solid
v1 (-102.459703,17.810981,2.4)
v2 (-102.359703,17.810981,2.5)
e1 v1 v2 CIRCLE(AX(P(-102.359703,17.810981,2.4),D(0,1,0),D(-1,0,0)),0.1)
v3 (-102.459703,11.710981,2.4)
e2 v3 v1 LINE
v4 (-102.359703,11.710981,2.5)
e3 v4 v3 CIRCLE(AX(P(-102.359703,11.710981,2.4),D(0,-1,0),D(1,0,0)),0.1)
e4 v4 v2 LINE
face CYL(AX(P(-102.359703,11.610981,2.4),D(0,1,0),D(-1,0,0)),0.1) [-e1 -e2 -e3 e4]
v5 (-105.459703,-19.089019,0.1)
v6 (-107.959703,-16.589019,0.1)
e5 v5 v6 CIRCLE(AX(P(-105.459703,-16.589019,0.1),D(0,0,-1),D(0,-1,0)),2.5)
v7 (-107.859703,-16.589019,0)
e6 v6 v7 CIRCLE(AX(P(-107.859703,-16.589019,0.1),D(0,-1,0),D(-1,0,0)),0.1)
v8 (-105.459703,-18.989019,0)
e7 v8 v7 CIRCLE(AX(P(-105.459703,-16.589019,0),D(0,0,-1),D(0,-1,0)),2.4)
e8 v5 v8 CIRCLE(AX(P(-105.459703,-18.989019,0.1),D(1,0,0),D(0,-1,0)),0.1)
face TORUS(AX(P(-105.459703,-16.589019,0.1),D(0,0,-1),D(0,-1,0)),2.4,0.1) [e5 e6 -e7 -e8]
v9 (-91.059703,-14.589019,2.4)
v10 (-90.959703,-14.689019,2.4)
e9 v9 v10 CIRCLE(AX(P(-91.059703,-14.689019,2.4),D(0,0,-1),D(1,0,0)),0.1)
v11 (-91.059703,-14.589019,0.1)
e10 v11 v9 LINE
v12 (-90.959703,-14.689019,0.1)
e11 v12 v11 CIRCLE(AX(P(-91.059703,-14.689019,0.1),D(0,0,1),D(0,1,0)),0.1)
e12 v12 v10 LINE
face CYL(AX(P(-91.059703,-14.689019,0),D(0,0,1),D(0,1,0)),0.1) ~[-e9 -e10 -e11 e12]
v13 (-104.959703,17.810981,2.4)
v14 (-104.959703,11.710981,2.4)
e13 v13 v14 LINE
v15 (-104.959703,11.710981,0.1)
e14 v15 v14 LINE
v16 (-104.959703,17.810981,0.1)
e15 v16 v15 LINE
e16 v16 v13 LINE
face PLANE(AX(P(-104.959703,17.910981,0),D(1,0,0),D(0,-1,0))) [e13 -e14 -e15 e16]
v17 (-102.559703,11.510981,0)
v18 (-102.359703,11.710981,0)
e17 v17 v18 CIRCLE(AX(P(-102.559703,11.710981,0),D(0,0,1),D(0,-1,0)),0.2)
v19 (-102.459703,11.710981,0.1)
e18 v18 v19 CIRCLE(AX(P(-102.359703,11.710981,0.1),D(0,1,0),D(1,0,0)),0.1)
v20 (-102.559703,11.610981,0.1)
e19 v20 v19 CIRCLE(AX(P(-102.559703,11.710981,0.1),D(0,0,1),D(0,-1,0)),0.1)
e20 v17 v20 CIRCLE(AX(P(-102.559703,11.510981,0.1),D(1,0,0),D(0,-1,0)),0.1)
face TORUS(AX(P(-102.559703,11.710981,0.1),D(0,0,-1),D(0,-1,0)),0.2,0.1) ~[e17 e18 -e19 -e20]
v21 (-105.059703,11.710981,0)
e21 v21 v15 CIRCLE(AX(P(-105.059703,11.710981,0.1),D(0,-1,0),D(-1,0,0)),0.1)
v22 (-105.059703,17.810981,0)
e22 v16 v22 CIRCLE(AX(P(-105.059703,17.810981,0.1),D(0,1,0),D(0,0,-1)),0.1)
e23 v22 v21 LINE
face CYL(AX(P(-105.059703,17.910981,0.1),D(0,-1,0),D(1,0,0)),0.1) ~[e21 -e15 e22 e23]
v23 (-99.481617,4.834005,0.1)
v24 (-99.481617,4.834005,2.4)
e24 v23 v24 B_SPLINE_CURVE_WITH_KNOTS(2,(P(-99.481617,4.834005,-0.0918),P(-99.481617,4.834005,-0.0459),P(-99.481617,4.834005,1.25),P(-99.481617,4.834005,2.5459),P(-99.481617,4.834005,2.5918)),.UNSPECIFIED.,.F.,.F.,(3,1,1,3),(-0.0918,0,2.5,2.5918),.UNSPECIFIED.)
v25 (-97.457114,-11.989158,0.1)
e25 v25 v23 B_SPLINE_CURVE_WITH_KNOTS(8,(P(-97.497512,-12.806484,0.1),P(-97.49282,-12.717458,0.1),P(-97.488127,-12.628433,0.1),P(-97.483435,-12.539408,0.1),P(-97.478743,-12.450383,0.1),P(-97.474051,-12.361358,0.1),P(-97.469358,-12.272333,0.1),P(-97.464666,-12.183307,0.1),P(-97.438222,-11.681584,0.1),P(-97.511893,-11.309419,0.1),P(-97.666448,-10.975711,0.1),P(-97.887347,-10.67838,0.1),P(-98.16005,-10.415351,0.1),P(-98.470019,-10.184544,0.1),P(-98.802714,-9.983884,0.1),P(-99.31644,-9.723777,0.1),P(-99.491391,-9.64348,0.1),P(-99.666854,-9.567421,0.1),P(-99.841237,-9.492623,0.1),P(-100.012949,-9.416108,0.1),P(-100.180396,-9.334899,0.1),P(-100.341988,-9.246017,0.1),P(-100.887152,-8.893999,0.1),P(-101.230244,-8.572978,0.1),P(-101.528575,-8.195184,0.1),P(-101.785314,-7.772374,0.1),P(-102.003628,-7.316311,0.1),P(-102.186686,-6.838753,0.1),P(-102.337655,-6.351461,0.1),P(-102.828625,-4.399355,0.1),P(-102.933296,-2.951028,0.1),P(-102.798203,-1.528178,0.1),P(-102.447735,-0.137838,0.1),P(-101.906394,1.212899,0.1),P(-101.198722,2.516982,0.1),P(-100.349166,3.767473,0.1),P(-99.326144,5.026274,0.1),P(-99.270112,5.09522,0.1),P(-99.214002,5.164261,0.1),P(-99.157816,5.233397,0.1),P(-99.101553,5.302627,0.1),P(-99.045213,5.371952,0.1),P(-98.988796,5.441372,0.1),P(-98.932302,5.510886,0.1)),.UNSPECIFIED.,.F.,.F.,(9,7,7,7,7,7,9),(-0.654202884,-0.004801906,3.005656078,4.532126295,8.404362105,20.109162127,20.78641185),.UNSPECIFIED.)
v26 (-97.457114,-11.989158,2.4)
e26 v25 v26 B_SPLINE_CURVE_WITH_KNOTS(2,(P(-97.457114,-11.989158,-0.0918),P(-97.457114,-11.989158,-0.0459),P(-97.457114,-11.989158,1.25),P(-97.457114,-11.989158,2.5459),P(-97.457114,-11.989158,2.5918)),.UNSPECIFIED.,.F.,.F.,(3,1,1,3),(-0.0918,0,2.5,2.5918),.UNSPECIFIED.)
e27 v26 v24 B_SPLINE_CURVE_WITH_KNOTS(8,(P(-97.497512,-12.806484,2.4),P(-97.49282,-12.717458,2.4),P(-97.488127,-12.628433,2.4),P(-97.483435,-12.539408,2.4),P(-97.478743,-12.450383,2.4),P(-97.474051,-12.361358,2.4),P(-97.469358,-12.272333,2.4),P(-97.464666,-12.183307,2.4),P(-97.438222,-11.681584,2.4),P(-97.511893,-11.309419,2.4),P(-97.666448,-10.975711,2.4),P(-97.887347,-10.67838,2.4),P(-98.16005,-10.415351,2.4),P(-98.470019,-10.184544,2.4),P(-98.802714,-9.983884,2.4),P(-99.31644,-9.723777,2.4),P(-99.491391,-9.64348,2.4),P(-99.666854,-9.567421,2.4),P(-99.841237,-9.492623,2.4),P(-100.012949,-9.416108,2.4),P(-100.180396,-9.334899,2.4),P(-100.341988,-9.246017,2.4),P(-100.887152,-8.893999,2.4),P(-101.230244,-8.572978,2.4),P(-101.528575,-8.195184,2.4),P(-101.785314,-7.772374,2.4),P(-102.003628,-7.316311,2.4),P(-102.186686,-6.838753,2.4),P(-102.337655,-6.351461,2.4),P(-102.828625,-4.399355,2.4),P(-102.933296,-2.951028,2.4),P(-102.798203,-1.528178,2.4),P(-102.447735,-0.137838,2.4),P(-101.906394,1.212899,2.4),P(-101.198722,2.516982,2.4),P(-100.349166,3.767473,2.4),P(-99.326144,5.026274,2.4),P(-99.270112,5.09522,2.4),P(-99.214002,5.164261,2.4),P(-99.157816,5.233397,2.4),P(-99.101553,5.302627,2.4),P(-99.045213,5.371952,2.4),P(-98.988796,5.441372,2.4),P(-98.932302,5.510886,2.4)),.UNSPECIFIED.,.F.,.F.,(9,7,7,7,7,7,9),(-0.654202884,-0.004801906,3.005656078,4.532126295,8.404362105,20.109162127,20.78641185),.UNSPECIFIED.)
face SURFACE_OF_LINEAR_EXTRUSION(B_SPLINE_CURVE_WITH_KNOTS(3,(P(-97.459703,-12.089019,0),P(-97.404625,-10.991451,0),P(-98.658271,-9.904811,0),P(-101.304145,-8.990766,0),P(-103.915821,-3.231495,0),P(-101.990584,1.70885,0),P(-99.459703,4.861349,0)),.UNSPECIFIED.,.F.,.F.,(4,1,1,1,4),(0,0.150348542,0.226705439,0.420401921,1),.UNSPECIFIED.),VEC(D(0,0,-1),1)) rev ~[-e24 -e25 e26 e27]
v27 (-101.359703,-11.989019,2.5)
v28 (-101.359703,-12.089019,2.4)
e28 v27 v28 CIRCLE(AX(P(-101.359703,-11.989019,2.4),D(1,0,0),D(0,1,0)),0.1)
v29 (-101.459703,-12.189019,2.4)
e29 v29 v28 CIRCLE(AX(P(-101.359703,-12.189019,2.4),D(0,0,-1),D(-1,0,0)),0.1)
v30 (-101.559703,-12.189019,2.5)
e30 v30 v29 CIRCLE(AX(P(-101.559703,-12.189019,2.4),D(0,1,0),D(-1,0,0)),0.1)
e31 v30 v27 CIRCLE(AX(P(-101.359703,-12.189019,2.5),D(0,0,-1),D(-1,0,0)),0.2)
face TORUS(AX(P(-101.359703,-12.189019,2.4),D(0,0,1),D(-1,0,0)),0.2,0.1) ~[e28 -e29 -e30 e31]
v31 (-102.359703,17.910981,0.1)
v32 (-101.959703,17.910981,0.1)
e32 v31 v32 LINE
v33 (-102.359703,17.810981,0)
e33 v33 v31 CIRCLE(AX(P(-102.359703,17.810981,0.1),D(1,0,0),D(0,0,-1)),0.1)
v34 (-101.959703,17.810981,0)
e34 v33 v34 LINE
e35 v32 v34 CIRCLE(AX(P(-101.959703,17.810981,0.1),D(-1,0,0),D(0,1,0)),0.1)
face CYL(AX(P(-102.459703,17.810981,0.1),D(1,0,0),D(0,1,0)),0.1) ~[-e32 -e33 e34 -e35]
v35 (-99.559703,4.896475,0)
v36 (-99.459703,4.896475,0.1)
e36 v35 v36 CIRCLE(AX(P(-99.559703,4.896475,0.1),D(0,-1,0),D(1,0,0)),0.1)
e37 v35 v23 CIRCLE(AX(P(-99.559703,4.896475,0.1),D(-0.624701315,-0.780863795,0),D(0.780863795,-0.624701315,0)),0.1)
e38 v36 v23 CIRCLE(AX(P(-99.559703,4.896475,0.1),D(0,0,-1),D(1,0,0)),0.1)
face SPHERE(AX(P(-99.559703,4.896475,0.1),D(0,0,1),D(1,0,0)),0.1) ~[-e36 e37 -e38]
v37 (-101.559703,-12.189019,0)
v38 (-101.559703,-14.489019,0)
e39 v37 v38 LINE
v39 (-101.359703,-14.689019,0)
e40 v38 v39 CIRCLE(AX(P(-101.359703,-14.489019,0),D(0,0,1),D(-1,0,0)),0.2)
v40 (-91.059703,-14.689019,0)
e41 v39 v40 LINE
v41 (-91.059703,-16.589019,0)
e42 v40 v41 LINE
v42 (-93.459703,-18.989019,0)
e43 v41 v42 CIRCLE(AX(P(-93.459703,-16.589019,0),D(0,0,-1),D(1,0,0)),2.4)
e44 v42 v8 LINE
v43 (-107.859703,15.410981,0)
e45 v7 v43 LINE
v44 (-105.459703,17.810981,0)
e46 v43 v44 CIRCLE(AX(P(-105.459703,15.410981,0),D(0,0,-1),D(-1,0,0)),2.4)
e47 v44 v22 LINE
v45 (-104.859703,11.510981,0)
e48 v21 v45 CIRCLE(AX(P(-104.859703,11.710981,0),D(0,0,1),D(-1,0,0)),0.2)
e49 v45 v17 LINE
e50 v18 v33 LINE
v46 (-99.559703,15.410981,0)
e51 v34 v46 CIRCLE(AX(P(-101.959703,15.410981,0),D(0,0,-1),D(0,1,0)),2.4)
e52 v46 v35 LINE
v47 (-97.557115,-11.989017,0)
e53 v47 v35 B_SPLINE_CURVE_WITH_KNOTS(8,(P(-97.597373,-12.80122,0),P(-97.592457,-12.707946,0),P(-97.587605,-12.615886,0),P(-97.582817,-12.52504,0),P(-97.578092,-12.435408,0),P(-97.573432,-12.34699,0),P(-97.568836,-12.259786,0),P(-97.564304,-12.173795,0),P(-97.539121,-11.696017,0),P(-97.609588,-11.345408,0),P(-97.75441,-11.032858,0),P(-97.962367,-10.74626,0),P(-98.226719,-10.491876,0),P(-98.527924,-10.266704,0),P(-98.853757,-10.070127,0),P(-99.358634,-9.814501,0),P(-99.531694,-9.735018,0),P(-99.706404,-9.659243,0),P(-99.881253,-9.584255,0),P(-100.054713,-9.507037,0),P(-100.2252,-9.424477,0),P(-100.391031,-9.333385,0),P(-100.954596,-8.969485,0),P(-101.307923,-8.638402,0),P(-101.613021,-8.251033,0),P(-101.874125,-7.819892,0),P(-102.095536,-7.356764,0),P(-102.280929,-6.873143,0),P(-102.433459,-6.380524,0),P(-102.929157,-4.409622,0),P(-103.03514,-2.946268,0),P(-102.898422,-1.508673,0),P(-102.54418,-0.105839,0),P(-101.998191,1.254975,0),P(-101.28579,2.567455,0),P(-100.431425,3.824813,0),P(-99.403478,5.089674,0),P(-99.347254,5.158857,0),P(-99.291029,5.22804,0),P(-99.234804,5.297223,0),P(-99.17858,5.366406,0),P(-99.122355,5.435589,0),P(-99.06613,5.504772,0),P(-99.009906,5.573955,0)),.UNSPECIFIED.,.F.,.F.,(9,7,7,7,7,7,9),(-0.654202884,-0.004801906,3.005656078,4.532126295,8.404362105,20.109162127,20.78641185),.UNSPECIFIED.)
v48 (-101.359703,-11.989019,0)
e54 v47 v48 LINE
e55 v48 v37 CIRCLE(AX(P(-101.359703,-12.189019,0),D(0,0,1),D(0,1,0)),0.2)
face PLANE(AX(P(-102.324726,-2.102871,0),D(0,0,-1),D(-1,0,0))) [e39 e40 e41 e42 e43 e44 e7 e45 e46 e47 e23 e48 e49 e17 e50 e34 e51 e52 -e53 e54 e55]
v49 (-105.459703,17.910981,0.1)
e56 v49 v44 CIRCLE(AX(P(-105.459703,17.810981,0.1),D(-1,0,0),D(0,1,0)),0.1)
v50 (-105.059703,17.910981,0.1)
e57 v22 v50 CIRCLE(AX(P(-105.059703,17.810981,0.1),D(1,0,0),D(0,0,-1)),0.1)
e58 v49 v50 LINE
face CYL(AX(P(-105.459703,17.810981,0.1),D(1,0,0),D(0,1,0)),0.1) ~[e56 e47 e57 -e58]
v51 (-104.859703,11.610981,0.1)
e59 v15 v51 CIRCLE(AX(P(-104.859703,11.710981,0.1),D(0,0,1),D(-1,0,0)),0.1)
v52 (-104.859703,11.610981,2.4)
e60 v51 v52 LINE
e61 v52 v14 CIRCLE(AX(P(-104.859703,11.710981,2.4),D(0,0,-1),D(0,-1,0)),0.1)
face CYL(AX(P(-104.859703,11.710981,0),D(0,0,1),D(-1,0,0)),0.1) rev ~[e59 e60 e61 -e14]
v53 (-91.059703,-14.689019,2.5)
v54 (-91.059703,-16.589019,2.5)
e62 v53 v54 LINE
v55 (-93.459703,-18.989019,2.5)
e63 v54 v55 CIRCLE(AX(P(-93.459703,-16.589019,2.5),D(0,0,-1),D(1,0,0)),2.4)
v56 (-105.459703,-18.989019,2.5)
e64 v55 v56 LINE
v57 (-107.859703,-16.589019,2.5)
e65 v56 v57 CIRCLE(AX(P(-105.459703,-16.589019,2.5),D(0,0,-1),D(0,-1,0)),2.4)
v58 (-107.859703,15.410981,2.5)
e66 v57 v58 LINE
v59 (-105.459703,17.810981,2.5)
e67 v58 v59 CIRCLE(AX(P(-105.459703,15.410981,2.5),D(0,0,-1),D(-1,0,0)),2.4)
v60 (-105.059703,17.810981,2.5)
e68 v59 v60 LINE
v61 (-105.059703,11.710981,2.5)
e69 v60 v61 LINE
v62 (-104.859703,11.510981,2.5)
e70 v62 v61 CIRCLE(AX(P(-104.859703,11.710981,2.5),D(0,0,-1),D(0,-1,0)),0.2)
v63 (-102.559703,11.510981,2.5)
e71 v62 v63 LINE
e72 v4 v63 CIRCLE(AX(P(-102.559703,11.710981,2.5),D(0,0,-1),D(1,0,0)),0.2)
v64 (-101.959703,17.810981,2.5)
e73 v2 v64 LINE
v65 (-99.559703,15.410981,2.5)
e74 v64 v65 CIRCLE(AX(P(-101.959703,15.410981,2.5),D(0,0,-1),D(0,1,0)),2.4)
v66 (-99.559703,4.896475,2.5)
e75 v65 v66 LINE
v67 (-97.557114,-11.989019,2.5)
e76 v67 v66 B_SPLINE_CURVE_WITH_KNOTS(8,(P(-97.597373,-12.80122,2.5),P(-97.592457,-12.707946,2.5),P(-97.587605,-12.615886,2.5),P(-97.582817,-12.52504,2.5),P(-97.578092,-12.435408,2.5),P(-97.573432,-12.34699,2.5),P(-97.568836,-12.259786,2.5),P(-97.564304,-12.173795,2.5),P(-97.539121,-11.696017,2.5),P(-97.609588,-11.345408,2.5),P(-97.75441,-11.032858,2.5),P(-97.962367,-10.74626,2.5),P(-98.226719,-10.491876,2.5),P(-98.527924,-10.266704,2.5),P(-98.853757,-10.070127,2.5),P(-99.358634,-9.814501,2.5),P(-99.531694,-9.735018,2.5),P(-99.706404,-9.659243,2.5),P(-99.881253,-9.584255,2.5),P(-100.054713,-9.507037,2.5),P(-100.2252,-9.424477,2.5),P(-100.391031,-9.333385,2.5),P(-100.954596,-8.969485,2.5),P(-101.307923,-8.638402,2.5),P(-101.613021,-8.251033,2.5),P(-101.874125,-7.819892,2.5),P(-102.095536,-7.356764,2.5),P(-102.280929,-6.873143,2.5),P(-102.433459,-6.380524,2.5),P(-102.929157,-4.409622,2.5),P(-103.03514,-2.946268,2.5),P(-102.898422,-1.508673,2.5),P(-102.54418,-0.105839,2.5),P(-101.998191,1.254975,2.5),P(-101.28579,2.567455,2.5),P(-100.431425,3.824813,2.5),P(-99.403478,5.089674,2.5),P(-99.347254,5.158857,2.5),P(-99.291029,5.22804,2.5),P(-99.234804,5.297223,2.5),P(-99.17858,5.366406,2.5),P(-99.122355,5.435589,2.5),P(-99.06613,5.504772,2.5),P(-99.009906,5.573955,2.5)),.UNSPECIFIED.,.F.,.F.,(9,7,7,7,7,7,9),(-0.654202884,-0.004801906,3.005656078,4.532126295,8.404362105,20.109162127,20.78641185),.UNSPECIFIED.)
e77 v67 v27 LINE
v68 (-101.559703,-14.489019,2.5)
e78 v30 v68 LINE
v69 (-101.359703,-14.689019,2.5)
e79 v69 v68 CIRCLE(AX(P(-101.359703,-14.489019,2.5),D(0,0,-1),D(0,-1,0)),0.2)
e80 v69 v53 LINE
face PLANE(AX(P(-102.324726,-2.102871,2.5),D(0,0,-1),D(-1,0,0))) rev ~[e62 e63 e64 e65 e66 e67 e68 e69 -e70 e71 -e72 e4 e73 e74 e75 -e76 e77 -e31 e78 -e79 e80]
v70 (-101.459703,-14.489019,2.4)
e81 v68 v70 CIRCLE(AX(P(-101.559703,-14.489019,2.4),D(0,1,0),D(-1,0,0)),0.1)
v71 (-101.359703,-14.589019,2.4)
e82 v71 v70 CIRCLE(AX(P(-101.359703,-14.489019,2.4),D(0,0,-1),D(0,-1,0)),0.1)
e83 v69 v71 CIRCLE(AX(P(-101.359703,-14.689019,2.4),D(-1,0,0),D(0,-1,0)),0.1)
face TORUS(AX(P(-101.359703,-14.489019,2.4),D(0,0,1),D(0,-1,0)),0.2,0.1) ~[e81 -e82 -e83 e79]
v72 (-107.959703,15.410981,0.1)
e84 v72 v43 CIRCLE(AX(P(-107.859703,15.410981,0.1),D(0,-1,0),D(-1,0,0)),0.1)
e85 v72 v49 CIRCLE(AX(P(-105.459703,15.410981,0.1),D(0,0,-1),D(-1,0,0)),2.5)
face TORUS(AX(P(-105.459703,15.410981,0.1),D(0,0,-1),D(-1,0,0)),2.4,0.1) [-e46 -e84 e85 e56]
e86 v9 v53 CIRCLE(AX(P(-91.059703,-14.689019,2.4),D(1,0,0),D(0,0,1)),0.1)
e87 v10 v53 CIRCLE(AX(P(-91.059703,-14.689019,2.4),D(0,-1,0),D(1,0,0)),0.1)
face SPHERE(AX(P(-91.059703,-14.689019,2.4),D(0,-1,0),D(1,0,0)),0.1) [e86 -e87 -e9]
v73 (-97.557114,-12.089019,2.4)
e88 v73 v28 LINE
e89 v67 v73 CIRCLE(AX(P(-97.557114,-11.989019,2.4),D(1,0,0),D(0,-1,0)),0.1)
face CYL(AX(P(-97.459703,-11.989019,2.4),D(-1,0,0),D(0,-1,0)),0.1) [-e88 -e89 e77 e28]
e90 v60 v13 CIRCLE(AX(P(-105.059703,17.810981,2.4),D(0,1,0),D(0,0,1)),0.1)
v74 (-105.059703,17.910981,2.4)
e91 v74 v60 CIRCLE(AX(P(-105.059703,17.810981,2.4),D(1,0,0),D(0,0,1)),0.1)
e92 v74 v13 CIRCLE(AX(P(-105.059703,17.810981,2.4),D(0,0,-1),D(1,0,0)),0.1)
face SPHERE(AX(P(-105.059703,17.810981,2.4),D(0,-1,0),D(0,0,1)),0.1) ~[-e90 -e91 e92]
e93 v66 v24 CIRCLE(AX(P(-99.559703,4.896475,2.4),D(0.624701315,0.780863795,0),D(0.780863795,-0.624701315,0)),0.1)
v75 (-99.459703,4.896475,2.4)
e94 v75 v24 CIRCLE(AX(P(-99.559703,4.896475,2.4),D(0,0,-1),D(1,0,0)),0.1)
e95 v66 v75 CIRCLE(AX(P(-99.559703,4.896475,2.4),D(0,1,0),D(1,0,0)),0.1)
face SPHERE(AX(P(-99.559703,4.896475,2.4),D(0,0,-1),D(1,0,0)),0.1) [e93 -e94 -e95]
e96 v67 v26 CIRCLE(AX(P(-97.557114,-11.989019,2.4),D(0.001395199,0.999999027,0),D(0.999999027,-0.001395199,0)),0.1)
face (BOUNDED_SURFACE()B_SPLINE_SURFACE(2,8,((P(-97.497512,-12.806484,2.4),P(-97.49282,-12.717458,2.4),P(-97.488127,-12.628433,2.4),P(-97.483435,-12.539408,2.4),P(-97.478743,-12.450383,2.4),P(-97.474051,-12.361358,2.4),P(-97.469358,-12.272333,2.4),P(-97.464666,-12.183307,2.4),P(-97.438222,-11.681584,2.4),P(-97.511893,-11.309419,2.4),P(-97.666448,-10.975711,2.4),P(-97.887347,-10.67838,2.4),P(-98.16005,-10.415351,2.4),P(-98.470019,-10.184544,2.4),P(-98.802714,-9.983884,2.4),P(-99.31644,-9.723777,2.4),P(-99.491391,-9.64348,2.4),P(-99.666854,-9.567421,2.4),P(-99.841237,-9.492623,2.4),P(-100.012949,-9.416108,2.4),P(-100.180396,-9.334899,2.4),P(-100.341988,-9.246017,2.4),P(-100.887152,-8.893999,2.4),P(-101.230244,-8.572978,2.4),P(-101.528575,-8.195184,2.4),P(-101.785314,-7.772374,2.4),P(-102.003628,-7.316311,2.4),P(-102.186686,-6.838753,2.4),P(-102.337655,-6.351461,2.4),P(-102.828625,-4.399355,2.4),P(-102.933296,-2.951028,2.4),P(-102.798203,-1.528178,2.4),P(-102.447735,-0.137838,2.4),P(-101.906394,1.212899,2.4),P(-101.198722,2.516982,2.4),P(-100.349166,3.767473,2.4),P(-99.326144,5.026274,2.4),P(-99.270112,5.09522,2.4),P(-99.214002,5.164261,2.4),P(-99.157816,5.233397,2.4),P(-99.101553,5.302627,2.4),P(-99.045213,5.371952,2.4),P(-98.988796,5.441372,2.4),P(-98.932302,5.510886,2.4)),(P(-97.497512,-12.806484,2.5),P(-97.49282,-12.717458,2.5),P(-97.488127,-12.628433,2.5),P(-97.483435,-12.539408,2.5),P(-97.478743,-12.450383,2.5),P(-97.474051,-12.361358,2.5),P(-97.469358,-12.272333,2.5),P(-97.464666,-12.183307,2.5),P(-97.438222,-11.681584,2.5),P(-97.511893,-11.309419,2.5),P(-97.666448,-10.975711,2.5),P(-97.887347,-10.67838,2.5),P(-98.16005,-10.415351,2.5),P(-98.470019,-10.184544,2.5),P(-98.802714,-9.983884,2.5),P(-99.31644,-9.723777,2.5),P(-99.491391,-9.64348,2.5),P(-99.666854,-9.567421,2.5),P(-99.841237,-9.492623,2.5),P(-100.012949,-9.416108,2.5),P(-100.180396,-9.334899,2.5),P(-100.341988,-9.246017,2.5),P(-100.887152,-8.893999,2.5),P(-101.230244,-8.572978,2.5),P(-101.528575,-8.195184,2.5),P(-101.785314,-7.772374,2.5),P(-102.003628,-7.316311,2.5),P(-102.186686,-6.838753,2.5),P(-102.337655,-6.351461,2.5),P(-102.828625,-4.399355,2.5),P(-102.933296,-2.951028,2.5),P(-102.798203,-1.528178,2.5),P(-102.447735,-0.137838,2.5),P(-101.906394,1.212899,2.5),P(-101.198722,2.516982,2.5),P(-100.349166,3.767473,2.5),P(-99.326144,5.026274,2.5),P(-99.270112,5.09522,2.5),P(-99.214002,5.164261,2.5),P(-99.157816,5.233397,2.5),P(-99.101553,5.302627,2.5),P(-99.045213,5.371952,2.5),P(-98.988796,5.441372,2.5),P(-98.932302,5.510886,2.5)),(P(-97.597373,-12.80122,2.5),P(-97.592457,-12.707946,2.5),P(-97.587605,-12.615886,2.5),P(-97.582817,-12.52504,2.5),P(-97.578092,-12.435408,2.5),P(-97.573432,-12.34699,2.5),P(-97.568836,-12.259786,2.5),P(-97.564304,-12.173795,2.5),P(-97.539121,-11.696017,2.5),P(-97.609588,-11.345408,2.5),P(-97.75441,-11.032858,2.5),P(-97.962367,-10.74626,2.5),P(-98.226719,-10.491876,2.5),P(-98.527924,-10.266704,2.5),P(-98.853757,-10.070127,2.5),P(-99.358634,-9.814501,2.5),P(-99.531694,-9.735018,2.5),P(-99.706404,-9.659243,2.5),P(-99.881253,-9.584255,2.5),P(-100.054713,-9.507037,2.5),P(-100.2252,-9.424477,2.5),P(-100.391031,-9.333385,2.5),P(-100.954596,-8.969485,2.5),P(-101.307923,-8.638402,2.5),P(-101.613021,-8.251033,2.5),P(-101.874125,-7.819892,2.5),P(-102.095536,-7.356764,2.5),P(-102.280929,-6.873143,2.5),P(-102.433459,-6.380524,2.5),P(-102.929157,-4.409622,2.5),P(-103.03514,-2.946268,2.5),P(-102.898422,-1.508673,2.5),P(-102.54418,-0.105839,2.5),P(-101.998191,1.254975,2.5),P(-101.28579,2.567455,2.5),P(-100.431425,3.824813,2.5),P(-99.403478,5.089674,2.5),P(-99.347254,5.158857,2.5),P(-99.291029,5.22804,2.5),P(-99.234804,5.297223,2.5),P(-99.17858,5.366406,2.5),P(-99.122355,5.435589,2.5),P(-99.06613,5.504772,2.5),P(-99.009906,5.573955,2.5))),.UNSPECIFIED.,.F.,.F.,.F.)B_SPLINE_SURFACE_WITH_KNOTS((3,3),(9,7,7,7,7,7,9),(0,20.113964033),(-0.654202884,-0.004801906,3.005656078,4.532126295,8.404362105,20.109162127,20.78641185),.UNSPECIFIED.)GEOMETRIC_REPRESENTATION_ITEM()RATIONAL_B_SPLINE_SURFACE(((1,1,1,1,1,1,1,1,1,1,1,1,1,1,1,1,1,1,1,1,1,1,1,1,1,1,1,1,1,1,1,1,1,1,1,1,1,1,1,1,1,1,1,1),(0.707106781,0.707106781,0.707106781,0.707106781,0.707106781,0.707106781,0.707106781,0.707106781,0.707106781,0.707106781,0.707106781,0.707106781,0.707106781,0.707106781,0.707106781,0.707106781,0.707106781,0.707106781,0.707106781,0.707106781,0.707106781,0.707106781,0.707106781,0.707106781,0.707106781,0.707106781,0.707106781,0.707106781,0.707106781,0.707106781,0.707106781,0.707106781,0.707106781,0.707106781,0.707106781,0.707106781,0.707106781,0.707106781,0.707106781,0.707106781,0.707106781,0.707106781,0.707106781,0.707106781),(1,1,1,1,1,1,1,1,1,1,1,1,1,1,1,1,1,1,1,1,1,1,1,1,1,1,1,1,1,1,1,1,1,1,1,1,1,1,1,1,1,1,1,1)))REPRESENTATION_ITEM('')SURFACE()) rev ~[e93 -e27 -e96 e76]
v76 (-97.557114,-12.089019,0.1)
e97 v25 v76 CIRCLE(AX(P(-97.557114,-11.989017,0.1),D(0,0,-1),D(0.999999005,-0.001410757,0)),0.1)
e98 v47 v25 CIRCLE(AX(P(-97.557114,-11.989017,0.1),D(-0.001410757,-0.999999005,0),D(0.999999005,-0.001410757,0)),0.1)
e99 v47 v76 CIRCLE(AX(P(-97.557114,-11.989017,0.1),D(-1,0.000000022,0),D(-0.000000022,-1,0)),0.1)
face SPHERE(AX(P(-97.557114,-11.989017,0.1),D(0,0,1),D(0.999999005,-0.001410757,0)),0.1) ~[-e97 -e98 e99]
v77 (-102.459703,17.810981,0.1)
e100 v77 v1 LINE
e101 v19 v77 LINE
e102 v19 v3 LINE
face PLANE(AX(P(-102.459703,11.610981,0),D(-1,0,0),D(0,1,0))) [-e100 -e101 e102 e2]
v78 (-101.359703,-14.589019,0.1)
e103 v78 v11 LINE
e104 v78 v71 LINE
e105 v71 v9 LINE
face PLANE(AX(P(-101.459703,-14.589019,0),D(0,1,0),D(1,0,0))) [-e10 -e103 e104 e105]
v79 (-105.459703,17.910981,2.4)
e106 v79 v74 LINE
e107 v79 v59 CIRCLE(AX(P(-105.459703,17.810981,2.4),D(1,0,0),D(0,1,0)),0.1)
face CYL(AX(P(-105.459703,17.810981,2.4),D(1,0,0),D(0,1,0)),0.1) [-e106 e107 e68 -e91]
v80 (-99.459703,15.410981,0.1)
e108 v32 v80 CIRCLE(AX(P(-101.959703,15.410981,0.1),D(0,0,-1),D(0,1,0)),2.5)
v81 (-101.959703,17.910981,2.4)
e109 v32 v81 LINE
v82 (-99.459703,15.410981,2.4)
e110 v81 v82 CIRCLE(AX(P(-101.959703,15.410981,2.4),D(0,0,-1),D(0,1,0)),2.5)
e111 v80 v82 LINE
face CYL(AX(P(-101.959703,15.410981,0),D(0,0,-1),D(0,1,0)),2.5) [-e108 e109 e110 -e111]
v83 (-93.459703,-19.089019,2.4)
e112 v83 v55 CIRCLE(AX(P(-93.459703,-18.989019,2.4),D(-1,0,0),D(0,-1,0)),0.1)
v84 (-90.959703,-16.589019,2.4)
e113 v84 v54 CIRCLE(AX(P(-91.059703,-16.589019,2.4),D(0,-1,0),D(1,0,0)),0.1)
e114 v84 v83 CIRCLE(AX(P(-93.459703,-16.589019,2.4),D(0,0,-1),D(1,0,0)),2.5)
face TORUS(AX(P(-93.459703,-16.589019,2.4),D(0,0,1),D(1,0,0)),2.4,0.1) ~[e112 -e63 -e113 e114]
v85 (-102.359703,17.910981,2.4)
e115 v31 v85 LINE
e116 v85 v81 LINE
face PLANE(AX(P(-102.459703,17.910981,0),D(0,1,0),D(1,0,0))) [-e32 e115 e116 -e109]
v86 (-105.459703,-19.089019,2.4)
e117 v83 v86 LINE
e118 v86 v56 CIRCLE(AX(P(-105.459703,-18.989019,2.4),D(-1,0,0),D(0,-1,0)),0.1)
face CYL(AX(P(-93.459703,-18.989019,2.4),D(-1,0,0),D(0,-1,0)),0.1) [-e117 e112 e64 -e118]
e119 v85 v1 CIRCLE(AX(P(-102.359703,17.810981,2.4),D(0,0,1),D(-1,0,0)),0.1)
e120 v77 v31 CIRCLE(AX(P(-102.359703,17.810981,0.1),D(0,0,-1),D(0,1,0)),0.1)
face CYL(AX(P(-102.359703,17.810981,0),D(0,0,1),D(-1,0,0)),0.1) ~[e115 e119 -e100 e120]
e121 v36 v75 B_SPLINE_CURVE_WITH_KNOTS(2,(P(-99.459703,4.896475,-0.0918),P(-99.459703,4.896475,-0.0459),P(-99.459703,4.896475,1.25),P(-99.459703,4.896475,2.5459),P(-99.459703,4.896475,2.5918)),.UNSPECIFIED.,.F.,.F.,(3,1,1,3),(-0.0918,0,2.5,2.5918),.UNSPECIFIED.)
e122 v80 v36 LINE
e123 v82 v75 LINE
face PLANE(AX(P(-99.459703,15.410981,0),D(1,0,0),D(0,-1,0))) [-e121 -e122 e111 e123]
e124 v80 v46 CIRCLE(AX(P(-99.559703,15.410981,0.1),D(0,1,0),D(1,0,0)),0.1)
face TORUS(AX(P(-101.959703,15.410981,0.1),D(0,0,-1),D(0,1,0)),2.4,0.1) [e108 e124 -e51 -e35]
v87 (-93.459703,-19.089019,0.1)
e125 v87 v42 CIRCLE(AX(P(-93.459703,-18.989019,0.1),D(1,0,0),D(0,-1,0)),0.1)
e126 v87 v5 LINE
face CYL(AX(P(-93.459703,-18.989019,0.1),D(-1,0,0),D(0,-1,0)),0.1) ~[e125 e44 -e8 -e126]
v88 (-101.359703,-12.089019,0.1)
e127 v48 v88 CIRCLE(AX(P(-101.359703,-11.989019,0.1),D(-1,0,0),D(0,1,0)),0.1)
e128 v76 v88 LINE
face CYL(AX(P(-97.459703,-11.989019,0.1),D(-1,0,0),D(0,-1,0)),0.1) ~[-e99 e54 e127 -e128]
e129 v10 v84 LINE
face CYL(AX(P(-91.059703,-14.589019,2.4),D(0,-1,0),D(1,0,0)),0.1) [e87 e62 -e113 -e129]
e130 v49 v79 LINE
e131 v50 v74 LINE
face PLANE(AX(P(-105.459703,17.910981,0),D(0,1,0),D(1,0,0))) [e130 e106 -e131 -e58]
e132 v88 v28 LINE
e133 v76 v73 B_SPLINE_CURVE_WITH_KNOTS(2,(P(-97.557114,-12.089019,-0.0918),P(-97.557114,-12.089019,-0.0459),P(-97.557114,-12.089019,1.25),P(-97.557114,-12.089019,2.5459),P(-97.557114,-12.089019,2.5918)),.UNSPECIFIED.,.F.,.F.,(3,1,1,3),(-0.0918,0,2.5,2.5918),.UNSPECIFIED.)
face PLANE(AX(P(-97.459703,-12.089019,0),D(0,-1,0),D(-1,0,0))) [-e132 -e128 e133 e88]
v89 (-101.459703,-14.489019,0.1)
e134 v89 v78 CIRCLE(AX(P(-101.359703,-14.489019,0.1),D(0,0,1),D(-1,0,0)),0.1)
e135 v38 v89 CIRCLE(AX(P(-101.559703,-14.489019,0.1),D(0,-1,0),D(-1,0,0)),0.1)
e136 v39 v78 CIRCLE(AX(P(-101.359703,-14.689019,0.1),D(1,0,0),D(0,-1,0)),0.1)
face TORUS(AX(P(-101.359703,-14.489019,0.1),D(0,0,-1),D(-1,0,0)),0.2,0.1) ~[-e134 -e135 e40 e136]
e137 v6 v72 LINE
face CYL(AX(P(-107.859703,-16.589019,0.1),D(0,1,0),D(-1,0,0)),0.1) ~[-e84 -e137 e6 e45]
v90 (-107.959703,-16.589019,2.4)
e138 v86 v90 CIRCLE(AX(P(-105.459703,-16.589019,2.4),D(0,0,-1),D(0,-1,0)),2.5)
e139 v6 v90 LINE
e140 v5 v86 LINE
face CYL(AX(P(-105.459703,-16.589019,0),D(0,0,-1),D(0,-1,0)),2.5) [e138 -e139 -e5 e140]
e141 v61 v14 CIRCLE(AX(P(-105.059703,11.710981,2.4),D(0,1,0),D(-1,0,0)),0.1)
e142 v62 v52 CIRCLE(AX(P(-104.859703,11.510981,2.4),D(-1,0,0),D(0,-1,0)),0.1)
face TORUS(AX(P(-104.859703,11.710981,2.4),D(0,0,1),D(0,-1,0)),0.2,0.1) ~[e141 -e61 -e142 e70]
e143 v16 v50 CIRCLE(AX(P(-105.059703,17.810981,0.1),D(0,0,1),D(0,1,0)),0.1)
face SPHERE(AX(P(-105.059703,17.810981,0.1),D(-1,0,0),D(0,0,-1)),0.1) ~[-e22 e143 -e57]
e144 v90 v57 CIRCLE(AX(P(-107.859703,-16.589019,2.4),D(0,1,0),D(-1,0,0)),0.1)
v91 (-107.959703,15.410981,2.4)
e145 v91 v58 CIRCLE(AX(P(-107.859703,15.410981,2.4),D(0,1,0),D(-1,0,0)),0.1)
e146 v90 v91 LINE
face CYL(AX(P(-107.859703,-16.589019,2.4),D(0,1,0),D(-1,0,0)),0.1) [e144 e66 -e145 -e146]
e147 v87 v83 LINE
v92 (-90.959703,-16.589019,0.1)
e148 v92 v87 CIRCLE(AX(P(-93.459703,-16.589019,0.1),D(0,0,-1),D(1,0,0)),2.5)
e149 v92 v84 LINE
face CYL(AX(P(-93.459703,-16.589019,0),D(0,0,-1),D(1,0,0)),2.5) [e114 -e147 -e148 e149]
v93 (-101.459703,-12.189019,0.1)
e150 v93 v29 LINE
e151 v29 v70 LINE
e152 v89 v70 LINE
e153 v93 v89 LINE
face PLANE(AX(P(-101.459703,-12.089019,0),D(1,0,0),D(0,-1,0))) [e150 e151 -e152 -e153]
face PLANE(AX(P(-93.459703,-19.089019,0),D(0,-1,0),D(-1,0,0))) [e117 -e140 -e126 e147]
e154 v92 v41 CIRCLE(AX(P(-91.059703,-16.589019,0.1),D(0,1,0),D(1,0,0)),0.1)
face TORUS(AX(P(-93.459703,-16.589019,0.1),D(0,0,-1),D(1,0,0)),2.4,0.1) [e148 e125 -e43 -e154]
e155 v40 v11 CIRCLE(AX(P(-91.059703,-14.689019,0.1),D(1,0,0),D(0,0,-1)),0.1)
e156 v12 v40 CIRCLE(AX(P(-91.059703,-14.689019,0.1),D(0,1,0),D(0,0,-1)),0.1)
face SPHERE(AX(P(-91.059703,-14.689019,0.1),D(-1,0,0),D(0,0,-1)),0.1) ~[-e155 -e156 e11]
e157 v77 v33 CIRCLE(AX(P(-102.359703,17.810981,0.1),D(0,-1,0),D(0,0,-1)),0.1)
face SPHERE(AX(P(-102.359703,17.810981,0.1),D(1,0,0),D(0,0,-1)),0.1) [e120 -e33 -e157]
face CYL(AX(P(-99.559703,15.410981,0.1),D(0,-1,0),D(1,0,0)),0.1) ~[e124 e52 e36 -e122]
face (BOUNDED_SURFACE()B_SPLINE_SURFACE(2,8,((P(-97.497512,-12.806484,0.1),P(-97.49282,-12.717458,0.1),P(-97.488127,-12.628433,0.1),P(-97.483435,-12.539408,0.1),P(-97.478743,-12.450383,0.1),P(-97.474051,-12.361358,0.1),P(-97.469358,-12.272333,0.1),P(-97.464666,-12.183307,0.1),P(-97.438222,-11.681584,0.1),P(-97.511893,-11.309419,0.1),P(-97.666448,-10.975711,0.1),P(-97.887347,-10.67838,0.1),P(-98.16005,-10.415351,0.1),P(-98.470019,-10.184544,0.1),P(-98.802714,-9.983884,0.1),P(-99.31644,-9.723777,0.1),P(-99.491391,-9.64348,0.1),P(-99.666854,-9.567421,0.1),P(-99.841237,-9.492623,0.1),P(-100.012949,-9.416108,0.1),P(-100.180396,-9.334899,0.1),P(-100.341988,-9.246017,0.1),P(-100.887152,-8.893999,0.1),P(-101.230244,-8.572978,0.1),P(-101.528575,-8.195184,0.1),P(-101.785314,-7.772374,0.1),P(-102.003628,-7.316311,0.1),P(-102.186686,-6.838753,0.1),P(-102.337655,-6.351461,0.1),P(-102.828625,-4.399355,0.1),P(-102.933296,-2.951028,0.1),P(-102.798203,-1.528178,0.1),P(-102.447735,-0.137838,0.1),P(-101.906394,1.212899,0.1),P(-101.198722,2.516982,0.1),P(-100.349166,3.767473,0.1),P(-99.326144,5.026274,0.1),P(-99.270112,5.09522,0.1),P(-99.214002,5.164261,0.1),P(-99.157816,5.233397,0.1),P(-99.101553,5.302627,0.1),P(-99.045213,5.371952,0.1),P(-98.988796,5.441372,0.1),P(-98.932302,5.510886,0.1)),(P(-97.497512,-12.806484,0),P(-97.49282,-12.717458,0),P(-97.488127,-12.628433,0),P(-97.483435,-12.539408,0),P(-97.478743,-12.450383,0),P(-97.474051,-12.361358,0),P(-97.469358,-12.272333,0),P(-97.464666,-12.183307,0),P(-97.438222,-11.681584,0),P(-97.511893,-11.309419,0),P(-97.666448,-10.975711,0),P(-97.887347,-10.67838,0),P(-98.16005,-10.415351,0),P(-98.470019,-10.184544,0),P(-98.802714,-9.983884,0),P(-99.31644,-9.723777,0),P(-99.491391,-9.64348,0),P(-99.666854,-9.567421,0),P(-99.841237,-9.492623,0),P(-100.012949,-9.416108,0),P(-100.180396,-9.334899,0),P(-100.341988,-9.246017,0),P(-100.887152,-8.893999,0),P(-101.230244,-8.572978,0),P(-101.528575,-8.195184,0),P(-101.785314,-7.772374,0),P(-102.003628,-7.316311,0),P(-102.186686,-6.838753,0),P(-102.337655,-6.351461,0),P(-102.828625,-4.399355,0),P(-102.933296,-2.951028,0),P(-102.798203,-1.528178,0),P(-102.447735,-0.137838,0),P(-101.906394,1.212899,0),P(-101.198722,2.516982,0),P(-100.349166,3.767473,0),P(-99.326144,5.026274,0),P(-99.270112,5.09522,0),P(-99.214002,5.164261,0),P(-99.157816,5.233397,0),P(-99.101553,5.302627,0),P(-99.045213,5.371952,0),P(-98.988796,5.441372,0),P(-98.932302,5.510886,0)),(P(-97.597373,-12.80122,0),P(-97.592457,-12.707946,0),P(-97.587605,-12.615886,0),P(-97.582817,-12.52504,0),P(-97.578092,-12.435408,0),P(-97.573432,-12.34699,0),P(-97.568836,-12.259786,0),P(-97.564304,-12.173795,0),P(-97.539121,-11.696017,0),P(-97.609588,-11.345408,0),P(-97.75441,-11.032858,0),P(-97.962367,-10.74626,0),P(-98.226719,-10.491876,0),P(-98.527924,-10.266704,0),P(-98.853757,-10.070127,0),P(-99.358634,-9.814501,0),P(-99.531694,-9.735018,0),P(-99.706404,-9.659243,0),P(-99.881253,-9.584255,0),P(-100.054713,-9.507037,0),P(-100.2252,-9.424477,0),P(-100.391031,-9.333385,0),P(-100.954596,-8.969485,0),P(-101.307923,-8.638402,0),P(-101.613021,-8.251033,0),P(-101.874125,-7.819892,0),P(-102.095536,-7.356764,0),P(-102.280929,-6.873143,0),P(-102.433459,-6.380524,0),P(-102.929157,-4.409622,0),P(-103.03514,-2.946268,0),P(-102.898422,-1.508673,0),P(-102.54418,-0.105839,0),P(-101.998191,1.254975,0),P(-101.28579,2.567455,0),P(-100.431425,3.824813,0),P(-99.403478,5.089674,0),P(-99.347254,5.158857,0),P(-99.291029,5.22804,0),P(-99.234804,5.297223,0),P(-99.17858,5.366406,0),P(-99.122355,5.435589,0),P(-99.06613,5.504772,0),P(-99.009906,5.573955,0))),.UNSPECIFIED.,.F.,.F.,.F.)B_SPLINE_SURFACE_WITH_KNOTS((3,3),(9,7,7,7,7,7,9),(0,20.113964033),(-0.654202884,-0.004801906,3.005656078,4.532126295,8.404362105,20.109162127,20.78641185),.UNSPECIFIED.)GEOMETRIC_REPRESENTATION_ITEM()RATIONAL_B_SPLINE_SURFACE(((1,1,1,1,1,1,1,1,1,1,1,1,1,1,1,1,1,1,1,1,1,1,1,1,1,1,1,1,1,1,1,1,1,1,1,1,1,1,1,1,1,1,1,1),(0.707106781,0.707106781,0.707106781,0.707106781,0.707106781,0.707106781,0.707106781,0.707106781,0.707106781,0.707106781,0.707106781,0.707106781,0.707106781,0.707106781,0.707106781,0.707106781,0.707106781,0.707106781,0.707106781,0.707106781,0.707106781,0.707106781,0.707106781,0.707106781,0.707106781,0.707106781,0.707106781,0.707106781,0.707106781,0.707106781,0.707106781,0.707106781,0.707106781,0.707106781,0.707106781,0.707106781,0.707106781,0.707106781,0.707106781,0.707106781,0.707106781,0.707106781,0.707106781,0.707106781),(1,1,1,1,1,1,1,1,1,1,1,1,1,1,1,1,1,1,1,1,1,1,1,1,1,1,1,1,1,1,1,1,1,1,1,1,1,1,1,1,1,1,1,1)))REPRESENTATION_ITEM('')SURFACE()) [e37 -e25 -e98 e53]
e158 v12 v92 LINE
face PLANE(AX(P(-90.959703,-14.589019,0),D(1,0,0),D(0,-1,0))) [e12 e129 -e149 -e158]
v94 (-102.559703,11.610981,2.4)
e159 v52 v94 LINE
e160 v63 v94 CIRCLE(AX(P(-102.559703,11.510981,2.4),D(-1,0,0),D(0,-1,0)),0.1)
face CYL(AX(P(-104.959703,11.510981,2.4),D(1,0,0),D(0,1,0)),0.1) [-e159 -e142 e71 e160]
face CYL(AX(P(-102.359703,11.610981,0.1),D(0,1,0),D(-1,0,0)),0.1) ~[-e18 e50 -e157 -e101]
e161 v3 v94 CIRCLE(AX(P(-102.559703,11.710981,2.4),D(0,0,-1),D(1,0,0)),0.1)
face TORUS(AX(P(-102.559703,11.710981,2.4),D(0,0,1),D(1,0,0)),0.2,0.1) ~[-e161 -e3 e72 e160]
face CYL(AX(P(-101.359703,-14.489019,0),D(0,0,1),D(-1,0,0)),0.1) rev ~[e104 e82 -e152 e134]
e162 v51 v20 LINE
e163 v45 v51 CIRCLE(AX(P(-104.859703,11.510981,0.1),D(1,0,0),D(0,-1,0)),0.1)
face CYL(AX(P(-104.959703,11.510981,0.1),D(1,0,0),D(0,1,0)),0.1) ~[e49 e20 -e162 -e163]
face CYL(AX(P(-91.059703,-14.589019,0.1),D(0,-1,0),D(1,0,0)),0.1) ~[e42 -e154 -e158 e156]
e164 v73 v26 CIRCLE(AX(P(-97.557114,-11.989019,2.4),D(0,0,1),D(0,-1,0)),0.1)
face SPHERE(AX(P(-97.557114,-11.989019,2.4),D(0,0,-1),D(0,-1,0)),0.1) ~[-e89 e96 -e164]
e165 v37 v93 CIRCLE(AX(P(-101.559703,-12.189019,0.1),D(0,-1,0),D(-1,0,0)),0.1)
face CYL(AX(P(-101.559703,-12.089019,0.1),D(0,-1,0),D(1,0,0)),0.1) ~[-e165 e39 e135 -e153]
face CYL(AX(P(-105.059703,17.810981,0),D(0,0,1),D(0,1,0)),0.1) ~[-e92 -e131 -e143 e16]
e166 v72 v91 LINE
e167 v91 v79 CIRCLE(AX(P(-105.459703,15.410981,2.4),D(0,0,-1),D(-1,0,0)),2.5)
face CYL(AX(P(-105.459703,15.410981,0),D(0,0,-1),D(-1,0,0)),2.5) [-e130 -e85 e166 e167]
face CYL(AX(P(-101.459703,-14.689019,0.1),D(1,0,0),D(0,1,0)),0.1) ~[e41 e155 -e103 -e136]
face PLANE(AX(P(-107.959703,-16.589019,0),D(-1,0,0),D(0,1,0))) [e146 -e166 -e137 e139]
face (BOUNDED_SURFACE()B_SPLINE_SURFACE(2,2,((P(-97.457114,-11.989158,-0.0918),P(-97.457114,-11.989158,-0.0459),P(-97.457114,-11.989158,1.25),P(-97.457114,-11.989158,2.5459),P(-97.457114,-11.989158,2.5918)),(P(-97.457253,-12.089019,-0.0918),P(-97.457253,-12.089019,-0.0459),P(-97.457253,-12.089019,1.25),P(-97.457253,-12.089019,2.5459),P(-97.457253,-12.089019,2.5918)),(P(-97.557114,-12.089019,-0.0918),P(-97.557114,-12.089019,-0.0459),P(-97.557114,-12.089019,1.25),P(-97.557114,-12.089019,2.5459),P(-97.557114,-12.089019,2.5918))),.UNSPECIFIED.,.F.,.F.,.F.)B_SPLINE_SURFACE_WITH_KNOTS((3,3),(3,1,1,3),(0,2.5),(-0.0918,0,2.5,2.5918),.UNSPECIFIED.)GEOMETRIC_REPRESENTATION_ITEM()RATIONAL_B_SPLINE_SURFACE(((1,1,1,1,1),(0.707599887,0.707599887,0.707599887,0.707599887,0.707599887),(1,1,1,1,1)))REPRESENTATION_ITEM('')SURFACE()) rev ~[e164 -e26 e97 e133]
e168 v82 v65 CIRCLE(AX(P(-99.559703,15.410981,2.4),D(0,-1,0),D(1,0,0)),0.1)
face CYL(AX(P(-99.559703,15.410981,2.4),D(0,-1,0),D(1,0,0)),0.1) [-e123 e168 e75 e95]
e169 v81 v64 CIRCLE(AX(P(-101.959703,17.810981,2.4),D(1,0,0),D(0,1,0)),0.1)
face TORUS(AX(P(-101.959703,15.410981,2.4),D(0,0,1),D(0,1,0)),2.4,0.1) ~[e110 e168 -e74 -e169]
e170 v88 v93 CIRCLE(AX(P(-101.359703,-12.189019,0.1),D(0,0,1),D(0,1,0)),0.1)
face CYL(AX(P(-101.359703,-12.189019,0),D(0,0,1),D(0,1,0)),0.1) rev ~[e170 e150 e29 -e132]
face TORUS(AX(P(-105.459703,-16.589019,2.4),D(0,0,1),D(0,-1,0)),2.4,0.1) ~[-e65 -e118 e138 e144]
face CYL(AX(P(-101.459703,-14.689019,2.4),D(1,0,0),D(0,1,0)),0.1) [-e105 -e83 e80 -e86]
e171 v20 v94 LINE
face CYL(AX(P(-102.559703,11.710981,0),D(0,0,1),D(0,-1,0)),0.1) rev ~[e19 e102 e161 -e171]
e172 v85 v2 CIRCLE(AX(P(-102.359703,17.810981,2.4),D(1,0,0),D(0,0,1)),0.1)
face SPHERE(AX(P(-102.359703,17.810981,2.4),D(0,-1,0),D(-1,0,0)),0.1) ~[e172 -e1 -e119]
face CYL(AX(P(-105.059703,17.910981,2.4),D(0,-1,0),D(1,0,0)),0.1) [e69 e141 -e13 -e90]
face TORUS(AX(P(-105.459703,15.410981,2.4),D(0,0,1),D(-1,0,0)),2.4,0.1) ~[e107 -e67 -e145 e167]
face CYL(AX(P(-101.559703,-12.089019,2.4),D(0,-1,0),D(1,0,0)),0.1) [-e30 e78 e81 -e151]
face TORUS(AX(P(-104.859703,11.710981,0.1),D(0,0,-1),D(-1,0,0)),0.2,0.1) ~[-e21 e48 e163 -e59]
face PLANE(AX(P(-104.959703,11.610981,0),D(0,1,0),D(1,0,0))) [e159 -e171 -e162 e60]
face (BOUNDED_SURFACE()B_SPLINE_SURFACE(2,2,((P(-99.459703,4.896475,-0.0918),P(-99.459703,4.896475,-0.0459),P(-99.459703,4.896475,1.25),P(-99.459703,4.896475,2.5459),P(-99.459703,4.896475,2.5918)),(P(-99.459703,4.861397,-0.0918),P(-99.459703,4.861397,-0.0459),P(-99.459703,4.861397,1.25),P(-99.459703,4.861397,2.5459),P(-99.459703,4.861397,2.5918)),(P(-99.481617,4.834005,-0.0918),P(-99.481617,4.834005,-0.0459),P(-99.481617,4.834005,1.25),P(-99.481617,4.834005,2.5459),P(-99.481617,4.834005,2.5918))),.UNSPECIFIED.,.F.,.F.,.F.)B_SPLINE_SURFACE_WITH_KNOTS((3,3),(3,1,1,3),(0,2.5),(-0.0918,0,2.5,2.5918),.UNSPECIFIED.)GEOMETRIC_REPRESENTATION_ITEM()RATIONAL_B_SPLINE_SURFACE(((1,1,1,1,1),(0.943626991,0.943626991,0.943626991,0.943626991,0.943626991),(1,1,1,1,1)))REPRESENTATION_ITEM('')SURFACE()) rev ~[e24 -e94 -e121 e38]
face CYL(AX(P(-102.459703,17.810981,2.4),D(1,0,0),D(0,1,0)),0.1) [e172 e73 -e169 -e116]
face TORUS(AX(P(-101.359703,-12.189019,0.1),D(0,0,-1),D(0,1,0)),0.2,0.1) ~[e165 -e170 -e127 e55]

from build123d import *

# Parameters (mm, degrees)
RESSALTO_EXTRUS_O1_DEPTH = 2.5
FILETE1_R                = 0.1


with BuildPart() as part:
    # Esboço1 → Ressalto-extrusão1 (new body)
    with BuildSketch(Plane.XY):
        with BuildLine():
            Line((-99.459703088, 15.410981147), (-99.459703088, 4.861348653))
            add(Edge.make_bspline(
                [(-97.459703088, -12.089018853), (-97.404624741, -10.991450722), (-98.658271178, -9.90481113), (-101.30414524, -8.990765832), (-103.915821362, -3.231494779), (-101.9905843, 1.708849959), (-99.459703088, 4.861348653)],
                knots=[0, 0, 0, 0, 0.150348542, 0.226705439, 0.420401921, 1, 1, 1, 1], degree=3))
            Line((-97.459703088, -12.089018853), (-101.459703088, -12.089018853))
            Line((-101.459703088, -12.089018853), (-101.459703088, -14.589018853))
            Line((-101.459703088, -14.589018853), (-90.959703088, -14.589018853))
            Line((-90.959703088, -14.589018853), (-90.959703088, -16.589018853))
            ThreePointArc((-90.959703088, -16.589018853), (-91.691936135, -18.356785806), (-93.459703088, -19.089018853))
            Line((-93.459703088, -19.089018853), (-105.459703088, -19.089018853))
            ThreePointArc((-105.459703088, -19.089018853), (-107.227470041, -18.356785806), (-107.959703088, -16.589018853))
            Line((-107.959703088, -16.589018853), (-107.959703088, 15.410981147))
            ThreePointArc((-107.959703088, 15.410981147), (-107.227470041, 17.1787481), (-105.459703088, 17.910981147))
            Line((-105.459703088, 17.910981147), (-104.959703088, 17.910981147))
            Line((-104.959703088, 17.910981147), (-104.959703088, 11.610981147))
            Line((-104.959703088, 11.610981147), (-102.459703088, 11.610981147))
            Line((-102.459703088, 11.610981147), (-102.459703088, 17.910981147))
            Line((-102.459703088, 17.910981147), (-101.959703088, 17.910981147))
            ThreePointArc((-101.959703088, 17.910981147), (-100.191936135, 17.1787481), (-99.459703088, 15.410981147))
        make_face()
    extrude(amount=RESSALTO_EXTRUS_O1_DEPTH)

    # Filete1
    filete1_edges = [part.edges().sort_by_distance(p)[0] for p in [
        (-102.459703088, 14.760981147, 2.5),
        (-103.709703088, 11.610981147, 2.5),
        (-99.459703088, 10.1361649, 0),
        (-102.723921949, -4.322739517, 0),
        (-99.459703088, -12.089018853, 0),
        (-104.959703088, 14.760981147, 2.5),
        (-101.459703088, -13.339018853, 0),
        (-96.209703088, -14.589018853, 0),
        (-90.959703088, -15.589018853, 0),
        (-91.691936135, -18.356785806, 0),
        (-99.459703088, -19.089018853, 0),
        (-107.227470041, -18.356785806, 0),
        (-107.959703088, -0.589018853, 0),
        (-107.227470041, 17.1787481, 0),
        (-105.209703088, 17.910981147, 2.5),
        (-105.209703088, 17.910981147, 0),
        (-104.959703088, 14.760981147, 0),
        (-103.709703088, 11.610981147, 0),
        (-102.459703088, 14.760981147, 0),
        (-102.209703088, 17.910981147, 0),
        (-100.191936135, 17.1787481, 0),
        (-107.227470041, 17.1787481, 2.5),
        (-107.959703088, -0.589018853, 2.5),
        (-99.459703088, 4.861348653, 1.25),
        (-97.459703088, -12.089018853, 1.25),
        (-101.459703088, -12.089018853, 1.25),
        (-101.459703088, -14.589018853, 1.25),
        (-90.959703088, -14.589018853, 1.25),
        (-107.227470041, -18.356785806, 2.5),
        (-104.959703088, 17.910981147, 1.25),
        (-104.959703088, 11.610981147, 1.25),
        (-102.459703088, 11.610981147, 1.25),
        (-102.459703088, 17.910981147, 1.25),
        (-99.459703088, -19.089018853, 2.5),
        (-91.691936135, -18.356785806, 2.5),
        (-90.959703088, -15.589018853, 2.5),
        (-100.191936135, 17.1787481, 2.5),
        (-96.209703088, -14.589018853, 2.5),
        (-101.459703088, -13.339018853, 2.5),
        (-99.459703088, -12.089018853, 2.5),
        (-102.723921949, -4.322739517, 2.5),
        (-99.459703088, 10.1361649, 2.5),
        (-102.209703088, 17.910981147, 2.5),
    ]]
    fillet(filete1_edges, radius=FILETE1_R)


solid = part.part
